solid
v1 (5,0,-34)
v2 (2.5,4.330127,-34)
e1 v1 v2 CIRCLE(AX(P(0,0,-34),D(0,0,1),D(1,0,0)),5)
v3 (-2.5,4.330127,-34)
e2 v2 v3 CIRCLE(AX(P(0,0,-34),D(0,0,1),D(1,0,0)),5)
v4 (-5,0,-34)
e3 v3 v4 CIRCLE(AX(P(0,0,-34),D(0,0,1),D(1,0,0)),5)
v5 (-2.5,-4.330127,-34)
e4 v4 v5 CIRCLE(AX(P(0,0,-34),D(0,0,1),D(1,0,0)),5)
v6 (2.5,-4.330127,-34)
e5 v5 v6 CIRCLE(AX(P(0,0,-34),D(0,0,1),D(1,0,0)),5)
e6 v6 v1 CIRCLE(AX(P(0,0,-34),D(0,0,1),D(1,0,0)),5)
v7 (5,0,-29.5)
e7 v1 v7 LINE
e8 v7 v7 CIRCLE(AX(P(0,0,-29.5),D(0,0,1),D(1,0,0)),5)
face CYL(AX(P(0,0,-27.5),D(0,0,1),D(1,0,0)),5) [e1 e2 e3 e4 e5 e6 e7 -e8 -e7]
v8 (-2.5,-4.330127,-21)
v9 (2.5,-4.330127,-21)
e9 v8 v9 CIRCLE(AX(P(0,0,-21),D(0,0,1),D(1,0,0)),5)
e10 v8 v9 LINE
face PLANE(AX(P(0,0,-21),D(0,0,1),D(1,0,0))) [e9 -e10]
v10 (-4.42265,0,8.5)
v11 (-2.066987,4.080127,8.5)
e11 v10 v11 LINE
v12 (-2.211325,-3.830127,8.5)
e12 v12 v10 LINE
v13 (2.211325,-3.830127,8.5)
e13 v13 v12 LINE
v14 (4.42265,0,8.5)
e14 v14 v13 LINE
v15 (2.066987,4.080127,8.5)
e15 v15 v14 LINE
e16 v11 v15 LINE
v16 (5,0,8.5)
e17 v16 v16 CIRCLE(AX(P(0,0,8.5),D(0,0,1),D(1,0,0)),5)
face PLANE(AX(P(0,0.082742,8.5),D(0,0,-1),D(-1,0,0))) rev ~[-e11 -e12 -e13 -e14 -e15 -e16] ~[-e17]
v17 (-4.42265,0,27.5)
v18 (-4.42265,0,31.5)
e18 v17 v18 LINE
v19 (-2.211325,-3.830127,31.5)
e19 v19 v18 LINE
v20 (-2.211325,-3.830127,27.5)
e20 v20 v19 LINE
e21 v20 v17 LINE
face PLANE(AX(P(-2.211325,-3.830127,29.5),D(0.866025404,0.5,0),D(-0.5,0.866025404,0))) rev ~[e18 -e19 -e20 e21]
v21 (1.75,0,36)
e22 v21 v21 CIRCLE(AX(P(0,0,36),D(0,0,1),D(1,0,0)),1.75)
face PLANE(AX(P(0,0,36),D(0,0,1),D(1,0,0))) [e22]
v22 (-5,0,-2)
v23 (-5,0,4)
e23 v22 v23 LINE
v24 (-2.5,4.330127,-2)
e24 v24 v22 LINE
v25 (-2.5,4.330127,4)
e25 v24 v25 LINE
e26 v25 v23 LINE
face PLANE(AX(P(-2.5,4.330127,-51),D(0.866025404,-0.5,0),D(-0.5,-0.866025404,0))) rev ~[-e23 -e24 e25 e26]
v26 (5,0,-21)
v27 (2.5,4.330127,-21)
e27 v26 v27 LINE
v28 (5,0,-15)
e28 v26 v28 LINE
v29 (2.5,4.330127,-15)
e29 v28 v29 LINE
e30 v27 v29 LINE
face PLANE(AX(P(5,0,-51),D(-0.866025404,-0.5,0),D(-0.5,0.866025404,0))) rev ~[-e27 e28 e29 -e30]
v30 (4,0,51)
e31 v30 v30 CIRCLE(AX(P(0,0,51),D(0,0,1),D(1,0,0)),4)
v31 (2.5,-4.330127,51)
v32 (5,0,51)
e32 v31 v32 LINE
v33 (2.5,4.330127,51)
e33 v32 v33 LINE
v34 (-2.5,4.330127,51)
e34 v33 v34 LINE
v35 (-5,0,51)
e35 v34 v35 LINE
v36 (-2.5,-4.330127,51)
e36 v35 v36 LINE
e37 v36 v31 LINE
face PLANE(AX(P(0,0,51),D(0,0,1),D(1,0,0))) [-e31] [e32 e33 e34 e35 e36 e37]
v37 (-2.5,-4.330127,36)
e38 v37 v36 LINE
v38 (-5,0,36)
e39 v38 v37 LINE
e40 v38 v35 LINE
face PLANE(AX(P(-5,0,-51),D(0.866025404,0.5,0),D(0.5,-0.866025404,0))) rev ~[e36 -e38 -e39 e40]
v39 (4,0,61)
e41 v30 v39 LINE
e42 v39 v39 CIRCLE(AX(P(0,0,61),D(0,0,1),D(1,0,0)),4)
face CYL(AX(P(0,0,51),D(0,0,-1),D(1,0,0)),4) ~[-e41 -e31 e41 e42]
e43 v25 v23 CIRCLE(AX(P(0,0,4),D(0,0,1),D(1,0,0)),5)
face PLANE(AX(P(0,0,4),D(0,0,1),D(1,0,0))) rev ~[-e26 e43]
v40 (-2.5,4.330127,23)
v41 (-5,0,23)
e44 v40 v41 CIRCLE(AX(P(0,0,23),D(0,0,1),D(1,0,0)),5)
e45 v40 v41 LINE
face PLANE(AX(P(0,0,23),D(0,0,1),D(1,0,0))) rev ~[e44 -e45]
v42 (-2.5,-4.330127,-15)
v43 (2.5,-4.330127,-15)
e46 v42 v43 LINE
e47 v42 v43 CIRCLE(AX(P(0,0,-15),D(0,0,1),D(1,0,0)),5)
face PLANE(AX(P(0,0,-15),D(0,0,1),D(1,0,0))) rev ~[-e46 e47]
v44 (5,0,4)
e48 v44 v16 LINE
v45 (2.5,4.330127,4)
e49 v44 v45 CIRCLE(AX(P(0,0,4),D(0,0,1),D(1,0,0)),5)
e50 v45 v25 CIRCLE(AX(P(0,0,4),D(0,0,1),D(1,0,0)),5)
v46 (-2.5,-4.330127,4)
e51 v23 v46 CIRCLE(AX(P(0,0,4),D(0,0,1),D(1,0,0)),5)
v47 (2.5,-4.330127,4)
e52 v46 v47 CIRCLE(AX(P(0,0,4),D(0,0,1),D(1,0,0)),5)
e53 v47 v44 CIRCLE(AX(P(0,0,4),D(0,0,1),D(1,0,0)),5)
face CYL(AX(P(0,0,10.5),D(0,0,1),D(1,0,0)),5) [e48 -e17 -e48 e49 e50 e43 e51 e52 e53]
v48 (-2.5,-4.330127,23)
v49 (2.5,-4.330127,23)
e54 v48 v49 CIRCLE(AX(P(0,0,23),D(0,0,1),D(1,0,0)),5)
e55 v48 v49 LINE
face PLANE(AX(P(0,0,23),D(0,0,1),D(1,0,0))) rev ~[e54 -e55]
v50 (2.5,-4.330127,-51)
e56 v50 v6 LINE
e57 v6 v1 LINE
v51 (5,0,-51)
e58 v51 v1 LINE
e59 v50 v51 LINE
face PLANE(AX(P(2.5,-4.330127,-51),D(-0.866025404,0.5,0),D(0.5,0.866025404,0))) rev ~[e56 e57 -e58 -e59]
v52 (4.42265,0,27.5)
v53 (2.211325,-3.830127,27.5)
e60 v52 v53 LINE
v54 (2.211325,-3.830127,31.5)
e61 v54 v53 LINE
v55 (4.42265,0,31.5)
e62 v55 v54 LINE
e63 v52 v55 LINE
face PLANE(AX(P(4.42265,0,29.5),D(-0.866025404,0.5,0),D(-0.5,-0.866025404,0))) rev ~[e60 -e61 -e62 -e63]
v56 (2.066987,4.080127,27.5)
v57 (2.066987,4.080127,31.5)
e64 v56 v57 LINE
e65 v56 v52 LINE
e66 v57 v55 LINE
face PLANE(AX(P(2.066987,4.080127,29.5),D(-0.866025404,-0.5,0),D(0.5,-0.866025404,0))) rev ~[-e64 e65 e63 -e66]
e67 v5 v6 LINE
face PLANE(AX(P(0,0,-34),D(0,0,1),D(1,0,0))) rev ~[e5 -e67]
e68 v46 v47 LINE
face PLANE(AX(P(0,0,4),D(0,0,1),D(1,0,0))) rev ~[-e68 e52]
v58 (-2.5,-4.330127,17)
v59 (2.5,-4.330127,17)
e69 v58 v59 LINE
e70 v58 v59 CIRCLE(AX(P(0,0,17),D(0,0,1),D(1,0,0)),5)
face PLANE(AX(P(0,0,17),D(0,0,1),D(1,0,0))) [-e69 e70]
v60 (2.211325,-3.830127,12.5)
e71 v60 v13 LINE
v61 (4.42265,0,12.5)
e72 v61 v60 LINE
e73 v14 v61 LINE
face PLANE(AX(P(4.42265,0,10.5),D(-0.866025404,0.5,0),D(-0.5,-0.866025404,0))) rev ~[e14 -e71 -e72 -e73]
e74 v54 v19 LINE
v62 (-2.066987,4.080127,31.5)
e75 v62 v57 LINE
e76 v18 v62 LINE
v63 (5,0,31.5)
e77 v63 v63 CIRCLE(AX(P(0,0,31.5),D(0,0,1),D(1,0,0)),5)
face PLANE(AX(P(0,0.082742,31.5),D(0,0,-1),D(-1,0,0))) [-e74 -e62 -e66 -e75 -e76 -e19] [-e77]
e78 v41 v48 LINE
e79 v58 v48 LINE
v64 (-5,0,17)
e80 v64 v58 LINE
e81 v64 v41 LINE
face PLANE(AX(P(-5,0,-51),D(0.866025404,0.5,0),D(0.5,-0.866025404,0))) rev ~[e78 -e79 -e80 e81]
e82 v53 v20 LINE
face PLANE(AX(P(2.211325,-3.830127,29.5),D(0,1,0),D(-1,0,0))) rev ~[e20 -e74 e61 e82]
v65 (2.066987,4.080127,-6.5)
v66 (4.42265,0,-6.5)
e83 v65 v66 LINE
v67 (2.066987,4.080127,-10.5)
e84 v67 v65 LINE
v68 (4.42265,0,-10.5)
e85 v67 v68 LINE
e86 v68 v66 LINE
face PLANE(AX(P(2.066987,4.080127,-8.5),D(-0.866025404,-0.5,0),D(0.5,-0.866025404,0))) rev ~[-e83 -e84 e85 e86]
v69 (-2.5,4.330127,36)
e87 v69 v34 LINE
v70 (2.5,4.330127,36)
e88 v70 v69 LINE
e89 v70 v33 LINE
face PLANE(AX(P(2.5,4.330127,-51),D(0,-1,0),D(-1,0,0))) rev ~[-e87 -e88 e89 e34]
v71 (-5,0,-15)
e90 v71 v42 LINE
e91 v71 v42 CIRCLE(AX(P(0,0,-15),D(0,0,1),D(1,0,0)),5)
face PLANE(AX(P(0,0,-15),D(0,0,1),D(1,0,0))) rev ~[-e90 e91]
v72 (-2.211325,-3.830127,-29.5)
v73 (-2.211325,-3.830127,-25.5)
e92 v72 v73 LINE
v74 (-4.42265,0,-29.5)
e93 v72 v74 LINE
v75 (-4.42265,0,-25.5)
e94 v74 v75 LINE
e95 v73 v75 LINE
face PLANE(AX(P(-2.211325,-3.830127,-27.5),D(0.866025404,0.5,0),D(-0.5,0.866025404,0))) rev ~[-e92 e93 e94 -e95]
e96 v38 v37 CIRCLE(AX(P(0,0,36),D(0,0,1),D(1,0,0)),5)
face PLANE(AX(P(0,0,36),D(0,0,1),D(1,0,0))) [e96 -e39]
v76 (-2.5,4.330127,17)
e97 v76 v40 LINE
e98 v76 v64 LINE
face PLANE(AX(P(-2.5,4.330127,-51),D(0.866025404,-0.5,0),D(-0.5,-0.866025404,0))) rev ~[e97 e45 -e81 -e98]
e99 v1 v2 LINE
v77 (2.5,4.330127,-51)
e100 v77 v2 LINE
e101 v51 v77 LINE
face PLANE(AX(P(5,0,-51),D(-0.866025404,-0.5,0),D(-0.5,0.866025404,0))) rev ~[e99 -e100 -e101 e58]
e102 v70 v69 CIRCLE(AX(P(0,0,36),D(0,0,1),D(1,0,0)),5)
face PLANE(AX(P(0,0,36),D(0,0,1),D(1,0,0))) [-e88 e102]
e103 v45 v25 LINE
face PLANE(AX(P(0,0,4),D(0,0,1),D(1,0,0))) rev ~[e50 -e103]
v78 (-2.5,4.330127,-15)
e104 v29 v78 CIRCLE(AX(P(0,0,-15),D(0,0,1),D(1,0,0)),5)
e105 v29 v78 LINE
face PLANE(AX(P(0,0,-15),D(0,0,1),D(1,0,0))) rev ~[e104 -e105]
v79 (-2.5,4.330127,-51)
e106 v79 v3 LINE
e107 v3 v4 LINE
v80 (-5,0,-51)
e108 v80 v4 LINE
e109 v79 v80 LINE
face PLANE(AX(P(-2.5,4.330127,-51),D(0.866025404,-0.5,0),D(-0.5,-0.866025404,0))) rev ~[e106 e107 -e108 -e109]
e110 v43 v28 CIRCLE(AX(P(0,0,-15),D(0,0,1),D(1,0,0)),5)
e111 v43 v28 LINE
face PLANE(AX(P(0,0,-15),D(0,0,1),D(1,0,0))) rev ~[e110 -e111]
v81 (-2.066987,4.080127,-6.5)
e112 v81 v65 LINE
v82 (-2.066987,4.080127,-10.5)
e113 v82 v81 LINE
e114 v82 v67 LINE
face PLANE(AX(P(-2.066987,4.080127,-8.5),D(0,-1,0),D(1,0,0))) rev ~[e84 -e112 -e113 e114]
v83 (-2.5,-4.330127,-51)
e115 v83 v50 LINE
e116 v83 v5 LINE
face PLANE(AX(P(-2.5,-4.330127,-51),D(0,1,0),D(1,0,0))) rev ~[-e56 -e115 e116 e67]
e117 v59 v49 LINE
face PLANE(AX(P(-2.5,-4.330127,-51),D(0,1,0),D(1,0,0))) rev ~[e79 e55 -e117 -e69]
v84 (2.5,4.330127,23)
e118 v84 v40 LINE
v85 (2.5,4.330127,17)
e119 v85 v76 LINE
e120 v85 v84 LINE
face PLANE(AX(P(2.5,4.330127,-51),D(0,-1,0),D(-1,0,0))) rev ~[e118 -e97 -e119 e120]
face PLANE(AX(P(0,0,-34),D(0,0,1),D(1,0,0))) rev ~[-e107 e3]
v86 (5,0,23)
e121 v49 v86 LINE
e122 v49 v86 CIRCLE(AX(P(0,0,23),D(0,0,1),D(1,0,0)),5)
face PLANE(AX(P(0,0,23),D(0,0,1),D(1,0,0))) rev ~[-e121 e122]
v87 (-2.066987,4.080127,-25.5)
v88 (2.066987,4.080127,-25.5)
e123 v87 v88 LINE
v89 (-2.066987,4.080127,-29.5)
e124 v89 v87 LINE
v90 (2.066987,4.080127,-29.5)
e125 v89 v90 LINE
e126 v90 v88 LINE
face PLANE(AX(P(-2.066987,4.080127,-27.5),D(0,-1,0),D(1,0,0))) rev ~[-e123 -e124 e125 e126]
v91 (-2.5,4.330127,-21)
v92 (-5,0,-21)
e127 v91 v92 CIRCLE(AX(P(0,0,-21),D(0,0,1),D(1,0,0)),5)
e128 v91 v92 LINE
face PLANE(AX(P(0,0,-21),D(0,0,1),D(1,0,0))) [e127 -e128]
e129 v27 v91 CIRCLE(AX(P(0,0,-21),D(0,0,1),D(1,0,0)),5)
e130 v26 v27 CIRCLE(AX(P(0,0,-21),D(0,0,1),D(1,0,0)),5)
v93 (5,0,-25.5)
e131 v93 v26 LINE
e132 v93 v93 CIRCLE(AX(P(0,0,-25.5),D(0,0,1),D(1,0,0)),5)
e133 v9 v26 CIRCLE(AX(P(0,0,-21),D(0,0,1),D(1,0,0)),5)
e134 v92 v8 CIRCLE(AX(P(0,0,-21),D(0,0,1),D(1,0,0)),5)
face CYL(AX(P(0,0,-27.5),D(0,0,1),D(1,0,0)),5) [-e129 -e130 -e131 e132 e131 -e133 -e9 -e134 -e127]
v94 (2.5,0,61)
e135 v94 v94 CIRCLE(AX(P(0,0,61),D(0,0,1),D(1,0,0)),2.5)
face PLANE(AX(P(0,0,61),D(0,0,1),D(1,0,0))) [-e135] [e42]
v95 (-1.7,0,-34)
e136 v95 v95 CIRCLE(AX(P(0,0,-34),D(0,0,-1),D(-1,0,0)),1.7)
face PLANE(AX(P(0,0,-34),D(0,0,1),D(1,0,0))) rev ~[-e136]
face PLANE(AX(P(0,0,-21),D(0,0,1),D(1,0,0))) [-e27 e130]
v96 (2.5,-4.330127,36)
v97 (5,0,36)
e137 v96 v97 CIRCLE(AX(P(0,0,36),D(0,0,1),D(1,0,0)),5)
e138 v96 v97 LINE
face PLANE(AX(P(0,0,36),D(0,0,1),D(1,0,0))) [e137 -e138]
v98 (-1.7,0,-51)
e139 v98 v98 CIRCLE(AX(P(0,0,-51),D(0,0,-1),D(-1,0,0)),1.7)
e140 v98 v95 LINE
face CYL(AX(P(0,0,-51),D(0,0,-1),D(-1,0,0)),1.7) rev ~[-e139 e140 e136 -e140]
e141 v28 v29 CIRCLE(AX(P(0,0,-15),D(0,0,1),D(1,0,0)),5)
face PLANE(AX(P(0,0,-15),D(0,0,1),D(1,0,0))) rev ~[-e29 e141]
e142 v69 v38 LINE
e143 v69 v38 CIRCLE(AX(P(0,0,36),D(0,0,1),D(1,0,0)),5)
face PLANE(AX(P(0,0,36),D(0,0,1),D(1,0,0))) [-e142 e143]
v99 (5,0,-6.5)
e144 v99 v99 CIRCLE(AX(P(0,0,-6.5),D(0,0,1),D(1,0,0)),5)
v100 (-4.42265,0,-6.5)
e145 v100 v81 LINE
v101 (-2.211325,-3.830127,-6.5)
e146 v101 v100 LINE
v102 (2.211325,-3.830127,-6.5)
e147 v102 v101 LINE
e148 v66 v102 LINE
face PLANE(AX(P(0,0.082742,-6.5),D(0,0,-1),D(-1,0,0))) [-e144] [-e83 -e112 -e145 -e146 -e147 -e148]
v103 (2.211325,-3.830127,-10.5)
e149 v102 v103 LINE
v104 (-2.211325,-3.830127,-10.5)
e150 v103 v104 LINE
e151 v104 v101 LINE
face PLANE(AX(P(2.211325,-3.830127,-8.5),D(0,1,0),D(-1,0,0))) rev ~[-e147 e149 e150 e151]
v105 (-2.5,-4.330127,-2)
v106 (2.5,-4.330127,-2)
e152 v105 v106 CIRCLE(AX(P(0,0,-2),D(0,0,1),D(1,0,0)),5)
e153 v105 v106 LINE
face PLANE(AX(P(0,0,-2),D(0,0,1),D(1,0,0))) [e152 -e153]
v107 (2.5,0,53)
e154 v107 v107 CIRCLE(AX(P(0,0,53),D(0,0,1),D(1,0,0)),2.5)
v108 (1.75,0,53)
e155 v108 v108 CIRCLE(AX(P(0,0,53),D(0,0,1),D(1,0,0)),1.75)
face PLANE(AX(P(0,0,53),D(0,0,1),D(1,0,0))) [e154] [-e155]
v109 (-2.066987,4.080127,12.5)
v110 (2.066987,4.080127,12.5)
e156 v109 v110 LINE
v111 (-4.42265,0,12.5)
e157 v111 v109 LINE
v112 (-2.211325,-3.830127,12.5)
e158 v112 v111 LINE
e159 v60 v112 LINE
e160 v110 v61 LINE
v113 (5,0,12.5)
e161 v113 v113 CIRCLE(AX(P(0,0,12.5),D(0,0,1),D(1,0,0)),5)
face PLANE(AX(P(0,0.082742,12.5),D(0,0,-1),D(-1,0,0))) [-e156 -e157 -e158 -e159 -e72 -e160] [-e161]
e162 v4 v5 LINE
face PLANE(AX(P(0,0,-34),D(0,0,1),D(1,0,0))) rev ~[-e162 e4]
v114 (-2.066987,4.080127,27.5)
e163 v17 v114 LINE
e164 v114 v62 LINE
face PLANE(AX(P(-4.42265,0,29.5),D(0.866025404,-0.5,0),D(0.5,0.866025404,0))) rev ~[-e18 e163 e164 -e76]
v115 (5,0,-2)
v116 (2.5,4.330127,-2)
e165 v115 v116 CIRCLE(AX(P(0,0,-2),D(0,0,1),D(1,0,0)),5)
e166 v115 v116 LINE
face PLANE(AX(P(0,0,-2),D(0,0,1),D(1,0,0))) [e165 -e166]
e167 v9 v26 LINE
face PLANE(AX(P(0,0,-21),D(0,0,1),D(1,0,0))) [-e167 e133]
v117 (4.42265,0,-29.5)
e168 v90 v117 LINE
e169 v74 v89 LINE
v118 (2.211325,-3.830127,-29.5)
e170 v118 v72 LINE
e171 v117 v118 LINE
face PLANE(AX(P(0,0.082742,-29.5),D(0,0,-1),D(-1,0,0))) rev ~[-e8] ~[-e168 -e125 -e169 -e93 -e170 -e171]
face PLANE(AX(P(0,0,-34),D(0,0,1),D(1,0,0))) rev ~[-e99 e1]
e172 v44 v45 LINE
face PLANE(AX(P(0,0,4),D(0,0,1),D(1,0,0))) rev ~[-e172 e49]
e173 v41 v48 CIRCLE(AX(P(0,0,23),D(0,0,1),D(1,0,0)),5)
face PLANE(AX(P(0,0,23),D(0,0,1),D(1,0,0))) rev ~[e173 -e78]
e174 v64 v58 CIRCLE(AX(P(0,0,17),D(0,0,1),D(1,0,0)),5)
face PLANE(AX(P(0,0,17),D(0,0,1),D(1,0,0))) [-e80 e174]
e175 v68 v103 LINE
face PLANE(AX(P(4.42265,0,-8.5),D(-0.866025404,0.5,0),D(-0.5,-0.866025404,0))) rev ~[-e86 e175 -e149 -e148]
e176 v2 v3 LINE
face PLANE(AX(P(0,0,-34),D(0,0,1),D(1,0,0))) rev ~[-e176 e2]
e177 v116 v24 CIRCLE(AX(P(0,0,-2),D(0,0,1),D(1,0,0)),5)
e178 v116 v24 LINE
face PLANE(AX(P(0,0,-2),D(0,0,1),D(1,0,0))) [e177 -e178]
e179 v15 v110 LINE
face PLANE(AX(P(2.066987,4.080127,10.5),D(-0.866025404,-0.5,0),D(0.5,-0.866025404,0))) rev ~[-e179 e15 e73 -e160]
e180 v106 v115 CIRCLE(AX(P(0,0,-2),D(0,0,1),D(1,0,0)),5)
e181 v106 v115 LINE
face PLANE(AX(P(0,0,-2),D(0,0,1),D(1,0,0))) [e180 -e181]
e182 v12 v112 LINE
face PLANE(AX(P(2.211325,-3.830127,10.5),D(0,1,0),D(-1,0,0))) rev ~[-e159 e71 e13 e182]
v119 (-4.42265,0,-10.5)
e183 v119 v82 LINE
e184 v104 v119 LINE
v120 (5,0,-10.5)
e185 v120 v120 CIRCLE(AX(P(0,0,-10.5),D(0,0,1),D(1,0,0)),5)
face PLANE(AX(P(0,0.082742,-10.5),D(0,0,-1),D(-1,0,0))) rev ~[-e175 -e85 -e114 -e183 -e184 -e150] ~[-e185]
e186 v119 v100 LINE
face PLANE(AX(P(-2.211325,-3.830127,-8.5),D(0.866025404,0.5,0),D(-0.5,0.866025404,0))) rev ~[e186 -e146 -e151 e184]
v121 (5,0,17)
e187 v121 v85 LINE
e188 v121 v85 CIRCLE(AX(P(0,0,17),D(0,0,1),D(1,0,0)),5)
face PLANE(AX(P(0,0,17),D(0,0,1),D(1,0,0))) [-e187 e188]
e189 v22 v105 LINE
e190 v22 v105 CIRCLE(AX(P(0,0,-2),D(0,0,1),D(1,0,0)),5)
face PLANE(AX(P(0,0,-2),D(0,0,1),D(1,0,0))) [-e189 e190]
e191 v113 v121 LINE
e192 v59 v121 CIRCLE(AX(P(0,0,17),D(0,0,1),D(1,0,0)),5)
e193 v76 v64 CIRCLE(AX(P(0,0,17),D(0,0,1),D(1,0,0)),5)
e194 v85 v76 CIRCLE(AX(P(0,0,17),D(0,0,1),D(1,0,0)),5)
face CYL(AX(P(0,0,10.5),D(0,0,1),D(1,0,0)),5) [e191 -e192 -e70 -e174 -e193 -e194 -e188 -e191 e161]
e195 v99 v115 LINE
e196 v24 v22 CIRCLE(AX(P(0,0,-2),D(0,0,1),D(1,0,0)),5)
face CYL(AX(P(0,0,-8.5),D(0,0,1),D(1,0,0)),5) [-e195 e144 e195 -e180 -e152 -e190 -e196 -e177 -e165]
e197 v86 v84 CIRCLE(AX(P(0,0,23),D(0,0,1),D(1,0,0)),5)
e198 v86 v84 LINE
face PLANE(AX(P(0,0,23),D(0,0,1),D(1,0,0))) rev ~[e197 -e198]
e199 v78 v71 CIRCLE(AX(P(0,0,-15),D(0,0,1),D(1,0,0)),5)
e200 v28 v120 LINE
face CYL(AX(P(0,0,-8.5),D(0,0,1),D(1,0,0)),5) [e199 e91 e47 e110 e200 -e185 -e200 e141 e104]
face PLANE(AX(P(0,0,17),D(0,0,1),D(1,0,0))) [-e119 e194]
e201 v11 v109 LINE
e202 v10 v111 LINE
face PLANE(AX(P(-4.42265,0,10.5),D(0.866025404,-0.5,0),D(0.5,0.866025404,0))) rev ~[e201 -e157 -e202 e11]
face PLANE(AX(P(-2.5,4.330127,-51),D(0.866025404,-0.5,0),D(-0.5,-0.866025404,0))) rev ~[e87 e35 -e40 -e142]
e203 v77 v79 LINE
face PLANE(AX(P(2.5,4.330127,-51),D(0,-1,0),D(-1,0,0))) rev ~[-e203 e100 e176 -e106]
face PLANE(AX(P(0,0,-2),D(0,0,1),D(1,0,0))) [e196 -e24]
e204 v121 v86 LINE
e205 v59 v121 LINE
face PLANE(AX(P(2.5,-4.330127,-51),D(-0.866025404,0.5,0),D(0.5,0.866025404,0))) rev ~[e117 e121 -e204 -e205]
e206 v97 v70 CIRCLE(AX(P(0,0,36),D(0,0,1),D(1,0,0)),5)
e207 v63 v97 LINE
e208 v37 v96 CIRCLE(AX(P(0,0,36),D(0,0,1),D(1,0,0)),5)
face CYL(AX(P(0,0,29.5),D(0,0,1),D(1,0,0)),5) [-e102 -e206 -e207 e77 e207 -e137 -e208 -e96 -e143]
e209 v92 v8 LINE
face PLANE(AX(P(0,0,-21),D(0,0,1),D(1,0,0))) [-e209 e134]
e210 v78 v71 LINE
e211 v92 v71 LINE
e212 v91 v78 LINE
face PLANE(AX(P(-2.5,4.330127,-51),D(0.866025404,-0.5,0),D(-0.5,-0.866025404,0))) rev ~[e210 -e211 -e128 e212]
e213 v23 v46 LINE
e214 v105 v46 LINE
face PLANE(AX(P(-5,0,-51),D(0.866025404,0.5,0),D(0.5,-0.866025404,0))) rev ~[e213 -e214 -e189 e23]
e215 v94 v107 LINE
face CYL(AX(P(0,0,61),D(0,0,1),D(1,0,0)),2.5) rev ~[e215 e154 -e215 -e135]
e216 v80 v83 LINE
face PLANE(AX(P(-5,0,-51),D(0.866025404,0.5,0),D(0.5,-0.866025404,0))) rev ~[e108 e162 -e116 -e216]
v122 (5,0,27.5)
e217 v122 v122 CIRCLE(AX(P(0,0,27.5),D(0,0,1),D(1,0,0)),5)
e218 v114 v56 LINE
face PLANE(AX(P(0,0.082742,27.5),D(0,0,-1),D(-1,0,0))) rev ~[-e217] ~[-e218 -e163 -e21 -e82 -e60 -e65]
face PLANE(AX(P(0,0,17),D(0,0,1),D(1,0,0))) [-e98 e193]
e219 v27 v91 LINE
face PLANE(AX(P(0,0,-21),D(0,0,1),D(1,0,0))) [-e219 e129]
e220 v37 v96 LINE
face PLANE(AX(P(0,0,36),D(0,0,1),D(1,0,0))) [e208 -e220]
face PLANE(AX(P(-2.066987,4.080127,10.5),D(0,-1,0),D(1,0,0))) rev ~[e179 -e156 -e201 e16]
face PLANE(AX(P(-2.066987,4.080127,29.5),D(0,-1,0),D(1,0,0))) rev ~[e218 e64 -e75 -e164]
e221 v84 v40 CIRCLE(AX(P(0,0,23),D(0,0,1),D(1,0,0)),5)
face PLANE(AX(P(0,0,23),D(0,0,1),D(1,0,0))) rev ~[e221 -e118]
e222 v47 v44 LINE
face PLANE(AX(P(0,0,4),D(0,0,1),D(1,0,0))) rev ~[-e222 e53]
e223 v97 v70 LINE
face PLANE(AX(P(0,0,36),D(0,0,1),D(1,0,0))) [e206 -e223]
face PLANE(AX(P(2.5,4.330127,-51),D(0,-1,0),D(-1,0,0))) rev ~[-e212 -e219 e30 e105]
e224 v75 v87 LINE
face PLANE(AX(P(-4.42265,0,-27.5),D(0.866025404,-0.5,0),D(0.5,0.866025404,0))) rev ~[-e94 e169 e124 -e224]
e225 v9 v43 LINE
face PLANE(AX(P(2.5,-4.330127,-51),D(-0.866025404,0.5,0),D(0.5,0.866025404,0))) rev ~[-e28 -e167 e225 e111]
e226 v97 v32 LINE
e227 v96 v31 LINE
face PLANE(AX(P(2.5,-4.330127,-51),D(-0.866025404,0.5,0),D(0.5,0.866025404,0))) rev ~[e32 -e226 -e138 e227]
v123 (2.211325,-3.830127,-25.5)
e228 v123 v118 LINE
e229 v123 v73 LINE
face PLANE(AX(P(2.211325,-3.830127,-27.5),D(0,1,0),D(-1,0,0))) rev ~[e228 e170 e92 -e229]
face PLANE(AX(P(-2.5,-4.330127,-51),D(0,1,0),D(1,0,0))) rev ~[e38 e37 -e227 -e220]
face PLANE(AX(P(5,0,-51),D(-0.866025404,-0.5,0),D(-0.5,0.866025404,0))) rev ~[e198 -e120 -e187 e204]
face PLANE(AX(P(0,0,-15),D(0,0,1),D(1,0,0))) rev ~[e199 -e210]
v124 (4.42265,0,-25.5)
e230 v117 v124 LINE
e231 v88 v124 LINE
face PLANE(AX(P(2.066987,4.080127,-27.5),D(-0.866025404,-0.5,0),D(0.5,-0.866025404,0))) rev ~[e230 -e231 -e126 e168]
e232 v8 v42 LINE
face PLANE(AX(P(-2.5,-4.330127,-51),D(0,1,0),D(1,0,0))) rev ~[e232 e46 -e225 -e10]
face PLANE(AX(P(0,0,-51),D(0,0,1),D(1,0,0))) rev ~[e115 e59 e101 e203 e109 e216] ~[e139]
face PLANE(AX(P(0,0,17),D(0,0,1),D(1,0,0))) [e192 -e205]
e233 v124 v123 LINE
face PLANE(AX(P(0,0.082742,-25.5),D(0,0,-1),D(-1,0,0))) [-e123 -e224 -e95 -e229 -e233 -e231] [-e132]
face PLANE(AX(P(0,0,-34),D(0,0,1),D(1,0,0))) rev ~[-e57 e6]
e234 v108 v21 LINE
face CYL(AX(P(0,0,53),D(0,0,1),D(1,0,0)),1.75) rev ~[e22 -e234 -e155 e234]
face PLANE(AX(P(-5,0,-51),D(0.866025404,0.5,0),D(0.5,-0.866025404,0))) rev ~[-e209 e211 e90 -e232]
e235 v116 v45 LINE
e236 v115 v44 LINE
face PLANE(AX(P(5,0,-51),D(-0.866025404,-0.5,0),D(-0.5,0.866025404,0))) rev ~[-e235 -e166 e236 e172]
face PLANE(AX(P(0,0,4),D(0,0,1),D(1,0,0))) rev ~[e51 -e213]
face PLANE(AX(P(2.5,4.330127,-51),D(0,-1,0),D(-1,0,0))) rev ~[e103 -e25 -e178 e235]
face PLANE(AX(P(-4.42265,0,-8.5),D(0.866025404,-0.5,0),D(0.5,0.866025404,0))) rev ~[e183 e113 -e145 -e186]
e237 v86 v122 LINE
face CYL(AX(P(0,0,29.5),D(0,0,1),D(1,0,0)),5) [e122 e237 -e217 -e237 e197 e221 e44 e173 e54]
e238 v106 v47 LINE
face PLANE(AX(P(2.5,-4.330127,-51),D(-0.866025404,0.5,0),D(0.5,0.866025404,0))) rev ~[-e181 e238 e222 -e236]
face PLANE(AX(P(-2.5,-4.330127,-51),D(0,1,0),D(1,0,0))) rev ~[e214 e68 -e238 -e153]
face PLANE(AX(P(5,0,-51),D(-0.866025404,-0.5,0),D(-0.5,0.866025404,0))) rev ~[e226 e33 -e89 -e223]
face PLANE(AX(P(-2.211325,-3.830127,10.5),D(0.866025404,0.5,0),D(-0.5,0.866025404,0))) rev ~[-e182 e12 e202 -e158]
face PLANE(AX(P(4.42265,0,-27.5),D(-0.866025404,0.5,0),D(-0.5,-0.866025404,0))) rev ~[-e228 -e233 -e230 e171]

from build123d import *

# Parameters (mm, degrees)
BOSS_EXTRUDE1_DEPTH      = 51
BOSS_EXTRUDE1_DEPTH_BACK = 51
SKETCH2_R                = 4
BOSS_EXTRUDE2_DEPTH      = 10
SKETCH3_R                = 2.5
CUT_EXTRUDE1_DEPTH       = 8
SKETCH4_R                = 1.75
CUT_EXTRUDE2_DEPTH       = 30
SKETCH5_R                = 1.7
CUT_EXTRUDE3_DEPTH       = 30
SKETCH7_R                = 5
BOSS_EXTRUDE3_DEPTH      = 6.5
CUT_EXTRUDE_THIN2_DEPTH  = 2
LPATTERN1_COUNT          = 4
LPATTERN1_PITCH          = 19


with BuildPart() as part:
    # Sketch1 → Boss-Extrude1 (new, two sides: drawn at the far end of the back side and taken through both)
    with BuildSketch(Plane.XY.offset(-BOSS_EXTRUDE1_DEPTH_BACK)):
        Polygon((2.5, -4.330127019), (5, 0), (2.5, 4.330127019), (-2.5, 4.330127019), (-5, 0), (-2.5, -4.330127019), align=None)
    extrude(amount=BOSS_EXTRUDE1_DEPTH + BOSS_EXTRUDE1_DEPTH_BACK)

    # Sketch2 → Boss-Extrude2 (add)
    with BuildSketch(Plane.XY.offset(51)):
        Circle(SKETCH2_R)
    extrude(amount=BOSS_EXTRUDE2_DEPTH)

    # Sketch3 → Cut-Extrude1 (cut)
    with BuildSketch(Plane.XY.offset(61)):
        Circle(SKETCH3_R)
    extrude(amount=-CUT_EXTRUDE1_DEPTH, mode=Mode.SUBTRACT)

    # Sketch4 → Cut-Extrude2 (cut)
    with BuildSketch(Plane.XY.offset(53)):
        Circle(SKETCH4_R)
    extrude(amount=-CUT_EXTRUDE2_DEPTH, mode=Mode.SUBTRACT)

    # Sketch5 → Cut-Extrude3 (cut)
    with BuildSketch(Plane(origin=(0, 0, -51), x_dir=(-1, 0, 0), z_dir=(0, 0, -1))):
        Circle(SKETCH5_R)
    extrude(amount=-CUT_EXTRUDE3_DEPTH, mode=Mode.SUBTRACT)

    # Sketch7 → Boss-Extrude3 (add, symmetric)
    with BuildSketch(Plane.XY.offset(29.5)):
        Circle(SKETCH7_R)
    boss_extrude3 = extrude(amount=BOSS_EXTRUDE3_DEPTH, both=True)

    # Sketch8 → Cut-Extrude-Thin2 (cut, symmetric)
    with BuildSketch(Plane.XY.offset(29.5)):
        Polygon((3.366025404, -5.830127019), (-3.366025404, -5.830127019), (-6.732050808, 0), (-3.221687836, 6.080127019), (3.221687836, 6.080127019), (6.732050808, 0), align=None)
        Polygon((2.211324865, -3.830127019), (-2.211324865, -3.830127019), (-4.422649731, 0), (-2.066987298, 4.080127019), (2.066987298, 4.080127019), (4.422649731, 0), align=None, mode=Mode.SUBTRACT)
    cut_extrude_thin2 = extrude(amount=CUT_EXTRUDE_THIN2_DEPTH, both=True, mode=Mode.SUBTRACT)

    # LPattern1: Boss-Extrude3, Cut-Extrude-Thin2 ×4
    with Locations(*[(0, 0, -i * LPATTERN1_PITCH) for i in range(1, LPATTERN1_COUNT)]):
        add(boss_extrude3)
        add(cut_extrude_thin2, mode=Mode.SUBTRACT)


solid = part.part
